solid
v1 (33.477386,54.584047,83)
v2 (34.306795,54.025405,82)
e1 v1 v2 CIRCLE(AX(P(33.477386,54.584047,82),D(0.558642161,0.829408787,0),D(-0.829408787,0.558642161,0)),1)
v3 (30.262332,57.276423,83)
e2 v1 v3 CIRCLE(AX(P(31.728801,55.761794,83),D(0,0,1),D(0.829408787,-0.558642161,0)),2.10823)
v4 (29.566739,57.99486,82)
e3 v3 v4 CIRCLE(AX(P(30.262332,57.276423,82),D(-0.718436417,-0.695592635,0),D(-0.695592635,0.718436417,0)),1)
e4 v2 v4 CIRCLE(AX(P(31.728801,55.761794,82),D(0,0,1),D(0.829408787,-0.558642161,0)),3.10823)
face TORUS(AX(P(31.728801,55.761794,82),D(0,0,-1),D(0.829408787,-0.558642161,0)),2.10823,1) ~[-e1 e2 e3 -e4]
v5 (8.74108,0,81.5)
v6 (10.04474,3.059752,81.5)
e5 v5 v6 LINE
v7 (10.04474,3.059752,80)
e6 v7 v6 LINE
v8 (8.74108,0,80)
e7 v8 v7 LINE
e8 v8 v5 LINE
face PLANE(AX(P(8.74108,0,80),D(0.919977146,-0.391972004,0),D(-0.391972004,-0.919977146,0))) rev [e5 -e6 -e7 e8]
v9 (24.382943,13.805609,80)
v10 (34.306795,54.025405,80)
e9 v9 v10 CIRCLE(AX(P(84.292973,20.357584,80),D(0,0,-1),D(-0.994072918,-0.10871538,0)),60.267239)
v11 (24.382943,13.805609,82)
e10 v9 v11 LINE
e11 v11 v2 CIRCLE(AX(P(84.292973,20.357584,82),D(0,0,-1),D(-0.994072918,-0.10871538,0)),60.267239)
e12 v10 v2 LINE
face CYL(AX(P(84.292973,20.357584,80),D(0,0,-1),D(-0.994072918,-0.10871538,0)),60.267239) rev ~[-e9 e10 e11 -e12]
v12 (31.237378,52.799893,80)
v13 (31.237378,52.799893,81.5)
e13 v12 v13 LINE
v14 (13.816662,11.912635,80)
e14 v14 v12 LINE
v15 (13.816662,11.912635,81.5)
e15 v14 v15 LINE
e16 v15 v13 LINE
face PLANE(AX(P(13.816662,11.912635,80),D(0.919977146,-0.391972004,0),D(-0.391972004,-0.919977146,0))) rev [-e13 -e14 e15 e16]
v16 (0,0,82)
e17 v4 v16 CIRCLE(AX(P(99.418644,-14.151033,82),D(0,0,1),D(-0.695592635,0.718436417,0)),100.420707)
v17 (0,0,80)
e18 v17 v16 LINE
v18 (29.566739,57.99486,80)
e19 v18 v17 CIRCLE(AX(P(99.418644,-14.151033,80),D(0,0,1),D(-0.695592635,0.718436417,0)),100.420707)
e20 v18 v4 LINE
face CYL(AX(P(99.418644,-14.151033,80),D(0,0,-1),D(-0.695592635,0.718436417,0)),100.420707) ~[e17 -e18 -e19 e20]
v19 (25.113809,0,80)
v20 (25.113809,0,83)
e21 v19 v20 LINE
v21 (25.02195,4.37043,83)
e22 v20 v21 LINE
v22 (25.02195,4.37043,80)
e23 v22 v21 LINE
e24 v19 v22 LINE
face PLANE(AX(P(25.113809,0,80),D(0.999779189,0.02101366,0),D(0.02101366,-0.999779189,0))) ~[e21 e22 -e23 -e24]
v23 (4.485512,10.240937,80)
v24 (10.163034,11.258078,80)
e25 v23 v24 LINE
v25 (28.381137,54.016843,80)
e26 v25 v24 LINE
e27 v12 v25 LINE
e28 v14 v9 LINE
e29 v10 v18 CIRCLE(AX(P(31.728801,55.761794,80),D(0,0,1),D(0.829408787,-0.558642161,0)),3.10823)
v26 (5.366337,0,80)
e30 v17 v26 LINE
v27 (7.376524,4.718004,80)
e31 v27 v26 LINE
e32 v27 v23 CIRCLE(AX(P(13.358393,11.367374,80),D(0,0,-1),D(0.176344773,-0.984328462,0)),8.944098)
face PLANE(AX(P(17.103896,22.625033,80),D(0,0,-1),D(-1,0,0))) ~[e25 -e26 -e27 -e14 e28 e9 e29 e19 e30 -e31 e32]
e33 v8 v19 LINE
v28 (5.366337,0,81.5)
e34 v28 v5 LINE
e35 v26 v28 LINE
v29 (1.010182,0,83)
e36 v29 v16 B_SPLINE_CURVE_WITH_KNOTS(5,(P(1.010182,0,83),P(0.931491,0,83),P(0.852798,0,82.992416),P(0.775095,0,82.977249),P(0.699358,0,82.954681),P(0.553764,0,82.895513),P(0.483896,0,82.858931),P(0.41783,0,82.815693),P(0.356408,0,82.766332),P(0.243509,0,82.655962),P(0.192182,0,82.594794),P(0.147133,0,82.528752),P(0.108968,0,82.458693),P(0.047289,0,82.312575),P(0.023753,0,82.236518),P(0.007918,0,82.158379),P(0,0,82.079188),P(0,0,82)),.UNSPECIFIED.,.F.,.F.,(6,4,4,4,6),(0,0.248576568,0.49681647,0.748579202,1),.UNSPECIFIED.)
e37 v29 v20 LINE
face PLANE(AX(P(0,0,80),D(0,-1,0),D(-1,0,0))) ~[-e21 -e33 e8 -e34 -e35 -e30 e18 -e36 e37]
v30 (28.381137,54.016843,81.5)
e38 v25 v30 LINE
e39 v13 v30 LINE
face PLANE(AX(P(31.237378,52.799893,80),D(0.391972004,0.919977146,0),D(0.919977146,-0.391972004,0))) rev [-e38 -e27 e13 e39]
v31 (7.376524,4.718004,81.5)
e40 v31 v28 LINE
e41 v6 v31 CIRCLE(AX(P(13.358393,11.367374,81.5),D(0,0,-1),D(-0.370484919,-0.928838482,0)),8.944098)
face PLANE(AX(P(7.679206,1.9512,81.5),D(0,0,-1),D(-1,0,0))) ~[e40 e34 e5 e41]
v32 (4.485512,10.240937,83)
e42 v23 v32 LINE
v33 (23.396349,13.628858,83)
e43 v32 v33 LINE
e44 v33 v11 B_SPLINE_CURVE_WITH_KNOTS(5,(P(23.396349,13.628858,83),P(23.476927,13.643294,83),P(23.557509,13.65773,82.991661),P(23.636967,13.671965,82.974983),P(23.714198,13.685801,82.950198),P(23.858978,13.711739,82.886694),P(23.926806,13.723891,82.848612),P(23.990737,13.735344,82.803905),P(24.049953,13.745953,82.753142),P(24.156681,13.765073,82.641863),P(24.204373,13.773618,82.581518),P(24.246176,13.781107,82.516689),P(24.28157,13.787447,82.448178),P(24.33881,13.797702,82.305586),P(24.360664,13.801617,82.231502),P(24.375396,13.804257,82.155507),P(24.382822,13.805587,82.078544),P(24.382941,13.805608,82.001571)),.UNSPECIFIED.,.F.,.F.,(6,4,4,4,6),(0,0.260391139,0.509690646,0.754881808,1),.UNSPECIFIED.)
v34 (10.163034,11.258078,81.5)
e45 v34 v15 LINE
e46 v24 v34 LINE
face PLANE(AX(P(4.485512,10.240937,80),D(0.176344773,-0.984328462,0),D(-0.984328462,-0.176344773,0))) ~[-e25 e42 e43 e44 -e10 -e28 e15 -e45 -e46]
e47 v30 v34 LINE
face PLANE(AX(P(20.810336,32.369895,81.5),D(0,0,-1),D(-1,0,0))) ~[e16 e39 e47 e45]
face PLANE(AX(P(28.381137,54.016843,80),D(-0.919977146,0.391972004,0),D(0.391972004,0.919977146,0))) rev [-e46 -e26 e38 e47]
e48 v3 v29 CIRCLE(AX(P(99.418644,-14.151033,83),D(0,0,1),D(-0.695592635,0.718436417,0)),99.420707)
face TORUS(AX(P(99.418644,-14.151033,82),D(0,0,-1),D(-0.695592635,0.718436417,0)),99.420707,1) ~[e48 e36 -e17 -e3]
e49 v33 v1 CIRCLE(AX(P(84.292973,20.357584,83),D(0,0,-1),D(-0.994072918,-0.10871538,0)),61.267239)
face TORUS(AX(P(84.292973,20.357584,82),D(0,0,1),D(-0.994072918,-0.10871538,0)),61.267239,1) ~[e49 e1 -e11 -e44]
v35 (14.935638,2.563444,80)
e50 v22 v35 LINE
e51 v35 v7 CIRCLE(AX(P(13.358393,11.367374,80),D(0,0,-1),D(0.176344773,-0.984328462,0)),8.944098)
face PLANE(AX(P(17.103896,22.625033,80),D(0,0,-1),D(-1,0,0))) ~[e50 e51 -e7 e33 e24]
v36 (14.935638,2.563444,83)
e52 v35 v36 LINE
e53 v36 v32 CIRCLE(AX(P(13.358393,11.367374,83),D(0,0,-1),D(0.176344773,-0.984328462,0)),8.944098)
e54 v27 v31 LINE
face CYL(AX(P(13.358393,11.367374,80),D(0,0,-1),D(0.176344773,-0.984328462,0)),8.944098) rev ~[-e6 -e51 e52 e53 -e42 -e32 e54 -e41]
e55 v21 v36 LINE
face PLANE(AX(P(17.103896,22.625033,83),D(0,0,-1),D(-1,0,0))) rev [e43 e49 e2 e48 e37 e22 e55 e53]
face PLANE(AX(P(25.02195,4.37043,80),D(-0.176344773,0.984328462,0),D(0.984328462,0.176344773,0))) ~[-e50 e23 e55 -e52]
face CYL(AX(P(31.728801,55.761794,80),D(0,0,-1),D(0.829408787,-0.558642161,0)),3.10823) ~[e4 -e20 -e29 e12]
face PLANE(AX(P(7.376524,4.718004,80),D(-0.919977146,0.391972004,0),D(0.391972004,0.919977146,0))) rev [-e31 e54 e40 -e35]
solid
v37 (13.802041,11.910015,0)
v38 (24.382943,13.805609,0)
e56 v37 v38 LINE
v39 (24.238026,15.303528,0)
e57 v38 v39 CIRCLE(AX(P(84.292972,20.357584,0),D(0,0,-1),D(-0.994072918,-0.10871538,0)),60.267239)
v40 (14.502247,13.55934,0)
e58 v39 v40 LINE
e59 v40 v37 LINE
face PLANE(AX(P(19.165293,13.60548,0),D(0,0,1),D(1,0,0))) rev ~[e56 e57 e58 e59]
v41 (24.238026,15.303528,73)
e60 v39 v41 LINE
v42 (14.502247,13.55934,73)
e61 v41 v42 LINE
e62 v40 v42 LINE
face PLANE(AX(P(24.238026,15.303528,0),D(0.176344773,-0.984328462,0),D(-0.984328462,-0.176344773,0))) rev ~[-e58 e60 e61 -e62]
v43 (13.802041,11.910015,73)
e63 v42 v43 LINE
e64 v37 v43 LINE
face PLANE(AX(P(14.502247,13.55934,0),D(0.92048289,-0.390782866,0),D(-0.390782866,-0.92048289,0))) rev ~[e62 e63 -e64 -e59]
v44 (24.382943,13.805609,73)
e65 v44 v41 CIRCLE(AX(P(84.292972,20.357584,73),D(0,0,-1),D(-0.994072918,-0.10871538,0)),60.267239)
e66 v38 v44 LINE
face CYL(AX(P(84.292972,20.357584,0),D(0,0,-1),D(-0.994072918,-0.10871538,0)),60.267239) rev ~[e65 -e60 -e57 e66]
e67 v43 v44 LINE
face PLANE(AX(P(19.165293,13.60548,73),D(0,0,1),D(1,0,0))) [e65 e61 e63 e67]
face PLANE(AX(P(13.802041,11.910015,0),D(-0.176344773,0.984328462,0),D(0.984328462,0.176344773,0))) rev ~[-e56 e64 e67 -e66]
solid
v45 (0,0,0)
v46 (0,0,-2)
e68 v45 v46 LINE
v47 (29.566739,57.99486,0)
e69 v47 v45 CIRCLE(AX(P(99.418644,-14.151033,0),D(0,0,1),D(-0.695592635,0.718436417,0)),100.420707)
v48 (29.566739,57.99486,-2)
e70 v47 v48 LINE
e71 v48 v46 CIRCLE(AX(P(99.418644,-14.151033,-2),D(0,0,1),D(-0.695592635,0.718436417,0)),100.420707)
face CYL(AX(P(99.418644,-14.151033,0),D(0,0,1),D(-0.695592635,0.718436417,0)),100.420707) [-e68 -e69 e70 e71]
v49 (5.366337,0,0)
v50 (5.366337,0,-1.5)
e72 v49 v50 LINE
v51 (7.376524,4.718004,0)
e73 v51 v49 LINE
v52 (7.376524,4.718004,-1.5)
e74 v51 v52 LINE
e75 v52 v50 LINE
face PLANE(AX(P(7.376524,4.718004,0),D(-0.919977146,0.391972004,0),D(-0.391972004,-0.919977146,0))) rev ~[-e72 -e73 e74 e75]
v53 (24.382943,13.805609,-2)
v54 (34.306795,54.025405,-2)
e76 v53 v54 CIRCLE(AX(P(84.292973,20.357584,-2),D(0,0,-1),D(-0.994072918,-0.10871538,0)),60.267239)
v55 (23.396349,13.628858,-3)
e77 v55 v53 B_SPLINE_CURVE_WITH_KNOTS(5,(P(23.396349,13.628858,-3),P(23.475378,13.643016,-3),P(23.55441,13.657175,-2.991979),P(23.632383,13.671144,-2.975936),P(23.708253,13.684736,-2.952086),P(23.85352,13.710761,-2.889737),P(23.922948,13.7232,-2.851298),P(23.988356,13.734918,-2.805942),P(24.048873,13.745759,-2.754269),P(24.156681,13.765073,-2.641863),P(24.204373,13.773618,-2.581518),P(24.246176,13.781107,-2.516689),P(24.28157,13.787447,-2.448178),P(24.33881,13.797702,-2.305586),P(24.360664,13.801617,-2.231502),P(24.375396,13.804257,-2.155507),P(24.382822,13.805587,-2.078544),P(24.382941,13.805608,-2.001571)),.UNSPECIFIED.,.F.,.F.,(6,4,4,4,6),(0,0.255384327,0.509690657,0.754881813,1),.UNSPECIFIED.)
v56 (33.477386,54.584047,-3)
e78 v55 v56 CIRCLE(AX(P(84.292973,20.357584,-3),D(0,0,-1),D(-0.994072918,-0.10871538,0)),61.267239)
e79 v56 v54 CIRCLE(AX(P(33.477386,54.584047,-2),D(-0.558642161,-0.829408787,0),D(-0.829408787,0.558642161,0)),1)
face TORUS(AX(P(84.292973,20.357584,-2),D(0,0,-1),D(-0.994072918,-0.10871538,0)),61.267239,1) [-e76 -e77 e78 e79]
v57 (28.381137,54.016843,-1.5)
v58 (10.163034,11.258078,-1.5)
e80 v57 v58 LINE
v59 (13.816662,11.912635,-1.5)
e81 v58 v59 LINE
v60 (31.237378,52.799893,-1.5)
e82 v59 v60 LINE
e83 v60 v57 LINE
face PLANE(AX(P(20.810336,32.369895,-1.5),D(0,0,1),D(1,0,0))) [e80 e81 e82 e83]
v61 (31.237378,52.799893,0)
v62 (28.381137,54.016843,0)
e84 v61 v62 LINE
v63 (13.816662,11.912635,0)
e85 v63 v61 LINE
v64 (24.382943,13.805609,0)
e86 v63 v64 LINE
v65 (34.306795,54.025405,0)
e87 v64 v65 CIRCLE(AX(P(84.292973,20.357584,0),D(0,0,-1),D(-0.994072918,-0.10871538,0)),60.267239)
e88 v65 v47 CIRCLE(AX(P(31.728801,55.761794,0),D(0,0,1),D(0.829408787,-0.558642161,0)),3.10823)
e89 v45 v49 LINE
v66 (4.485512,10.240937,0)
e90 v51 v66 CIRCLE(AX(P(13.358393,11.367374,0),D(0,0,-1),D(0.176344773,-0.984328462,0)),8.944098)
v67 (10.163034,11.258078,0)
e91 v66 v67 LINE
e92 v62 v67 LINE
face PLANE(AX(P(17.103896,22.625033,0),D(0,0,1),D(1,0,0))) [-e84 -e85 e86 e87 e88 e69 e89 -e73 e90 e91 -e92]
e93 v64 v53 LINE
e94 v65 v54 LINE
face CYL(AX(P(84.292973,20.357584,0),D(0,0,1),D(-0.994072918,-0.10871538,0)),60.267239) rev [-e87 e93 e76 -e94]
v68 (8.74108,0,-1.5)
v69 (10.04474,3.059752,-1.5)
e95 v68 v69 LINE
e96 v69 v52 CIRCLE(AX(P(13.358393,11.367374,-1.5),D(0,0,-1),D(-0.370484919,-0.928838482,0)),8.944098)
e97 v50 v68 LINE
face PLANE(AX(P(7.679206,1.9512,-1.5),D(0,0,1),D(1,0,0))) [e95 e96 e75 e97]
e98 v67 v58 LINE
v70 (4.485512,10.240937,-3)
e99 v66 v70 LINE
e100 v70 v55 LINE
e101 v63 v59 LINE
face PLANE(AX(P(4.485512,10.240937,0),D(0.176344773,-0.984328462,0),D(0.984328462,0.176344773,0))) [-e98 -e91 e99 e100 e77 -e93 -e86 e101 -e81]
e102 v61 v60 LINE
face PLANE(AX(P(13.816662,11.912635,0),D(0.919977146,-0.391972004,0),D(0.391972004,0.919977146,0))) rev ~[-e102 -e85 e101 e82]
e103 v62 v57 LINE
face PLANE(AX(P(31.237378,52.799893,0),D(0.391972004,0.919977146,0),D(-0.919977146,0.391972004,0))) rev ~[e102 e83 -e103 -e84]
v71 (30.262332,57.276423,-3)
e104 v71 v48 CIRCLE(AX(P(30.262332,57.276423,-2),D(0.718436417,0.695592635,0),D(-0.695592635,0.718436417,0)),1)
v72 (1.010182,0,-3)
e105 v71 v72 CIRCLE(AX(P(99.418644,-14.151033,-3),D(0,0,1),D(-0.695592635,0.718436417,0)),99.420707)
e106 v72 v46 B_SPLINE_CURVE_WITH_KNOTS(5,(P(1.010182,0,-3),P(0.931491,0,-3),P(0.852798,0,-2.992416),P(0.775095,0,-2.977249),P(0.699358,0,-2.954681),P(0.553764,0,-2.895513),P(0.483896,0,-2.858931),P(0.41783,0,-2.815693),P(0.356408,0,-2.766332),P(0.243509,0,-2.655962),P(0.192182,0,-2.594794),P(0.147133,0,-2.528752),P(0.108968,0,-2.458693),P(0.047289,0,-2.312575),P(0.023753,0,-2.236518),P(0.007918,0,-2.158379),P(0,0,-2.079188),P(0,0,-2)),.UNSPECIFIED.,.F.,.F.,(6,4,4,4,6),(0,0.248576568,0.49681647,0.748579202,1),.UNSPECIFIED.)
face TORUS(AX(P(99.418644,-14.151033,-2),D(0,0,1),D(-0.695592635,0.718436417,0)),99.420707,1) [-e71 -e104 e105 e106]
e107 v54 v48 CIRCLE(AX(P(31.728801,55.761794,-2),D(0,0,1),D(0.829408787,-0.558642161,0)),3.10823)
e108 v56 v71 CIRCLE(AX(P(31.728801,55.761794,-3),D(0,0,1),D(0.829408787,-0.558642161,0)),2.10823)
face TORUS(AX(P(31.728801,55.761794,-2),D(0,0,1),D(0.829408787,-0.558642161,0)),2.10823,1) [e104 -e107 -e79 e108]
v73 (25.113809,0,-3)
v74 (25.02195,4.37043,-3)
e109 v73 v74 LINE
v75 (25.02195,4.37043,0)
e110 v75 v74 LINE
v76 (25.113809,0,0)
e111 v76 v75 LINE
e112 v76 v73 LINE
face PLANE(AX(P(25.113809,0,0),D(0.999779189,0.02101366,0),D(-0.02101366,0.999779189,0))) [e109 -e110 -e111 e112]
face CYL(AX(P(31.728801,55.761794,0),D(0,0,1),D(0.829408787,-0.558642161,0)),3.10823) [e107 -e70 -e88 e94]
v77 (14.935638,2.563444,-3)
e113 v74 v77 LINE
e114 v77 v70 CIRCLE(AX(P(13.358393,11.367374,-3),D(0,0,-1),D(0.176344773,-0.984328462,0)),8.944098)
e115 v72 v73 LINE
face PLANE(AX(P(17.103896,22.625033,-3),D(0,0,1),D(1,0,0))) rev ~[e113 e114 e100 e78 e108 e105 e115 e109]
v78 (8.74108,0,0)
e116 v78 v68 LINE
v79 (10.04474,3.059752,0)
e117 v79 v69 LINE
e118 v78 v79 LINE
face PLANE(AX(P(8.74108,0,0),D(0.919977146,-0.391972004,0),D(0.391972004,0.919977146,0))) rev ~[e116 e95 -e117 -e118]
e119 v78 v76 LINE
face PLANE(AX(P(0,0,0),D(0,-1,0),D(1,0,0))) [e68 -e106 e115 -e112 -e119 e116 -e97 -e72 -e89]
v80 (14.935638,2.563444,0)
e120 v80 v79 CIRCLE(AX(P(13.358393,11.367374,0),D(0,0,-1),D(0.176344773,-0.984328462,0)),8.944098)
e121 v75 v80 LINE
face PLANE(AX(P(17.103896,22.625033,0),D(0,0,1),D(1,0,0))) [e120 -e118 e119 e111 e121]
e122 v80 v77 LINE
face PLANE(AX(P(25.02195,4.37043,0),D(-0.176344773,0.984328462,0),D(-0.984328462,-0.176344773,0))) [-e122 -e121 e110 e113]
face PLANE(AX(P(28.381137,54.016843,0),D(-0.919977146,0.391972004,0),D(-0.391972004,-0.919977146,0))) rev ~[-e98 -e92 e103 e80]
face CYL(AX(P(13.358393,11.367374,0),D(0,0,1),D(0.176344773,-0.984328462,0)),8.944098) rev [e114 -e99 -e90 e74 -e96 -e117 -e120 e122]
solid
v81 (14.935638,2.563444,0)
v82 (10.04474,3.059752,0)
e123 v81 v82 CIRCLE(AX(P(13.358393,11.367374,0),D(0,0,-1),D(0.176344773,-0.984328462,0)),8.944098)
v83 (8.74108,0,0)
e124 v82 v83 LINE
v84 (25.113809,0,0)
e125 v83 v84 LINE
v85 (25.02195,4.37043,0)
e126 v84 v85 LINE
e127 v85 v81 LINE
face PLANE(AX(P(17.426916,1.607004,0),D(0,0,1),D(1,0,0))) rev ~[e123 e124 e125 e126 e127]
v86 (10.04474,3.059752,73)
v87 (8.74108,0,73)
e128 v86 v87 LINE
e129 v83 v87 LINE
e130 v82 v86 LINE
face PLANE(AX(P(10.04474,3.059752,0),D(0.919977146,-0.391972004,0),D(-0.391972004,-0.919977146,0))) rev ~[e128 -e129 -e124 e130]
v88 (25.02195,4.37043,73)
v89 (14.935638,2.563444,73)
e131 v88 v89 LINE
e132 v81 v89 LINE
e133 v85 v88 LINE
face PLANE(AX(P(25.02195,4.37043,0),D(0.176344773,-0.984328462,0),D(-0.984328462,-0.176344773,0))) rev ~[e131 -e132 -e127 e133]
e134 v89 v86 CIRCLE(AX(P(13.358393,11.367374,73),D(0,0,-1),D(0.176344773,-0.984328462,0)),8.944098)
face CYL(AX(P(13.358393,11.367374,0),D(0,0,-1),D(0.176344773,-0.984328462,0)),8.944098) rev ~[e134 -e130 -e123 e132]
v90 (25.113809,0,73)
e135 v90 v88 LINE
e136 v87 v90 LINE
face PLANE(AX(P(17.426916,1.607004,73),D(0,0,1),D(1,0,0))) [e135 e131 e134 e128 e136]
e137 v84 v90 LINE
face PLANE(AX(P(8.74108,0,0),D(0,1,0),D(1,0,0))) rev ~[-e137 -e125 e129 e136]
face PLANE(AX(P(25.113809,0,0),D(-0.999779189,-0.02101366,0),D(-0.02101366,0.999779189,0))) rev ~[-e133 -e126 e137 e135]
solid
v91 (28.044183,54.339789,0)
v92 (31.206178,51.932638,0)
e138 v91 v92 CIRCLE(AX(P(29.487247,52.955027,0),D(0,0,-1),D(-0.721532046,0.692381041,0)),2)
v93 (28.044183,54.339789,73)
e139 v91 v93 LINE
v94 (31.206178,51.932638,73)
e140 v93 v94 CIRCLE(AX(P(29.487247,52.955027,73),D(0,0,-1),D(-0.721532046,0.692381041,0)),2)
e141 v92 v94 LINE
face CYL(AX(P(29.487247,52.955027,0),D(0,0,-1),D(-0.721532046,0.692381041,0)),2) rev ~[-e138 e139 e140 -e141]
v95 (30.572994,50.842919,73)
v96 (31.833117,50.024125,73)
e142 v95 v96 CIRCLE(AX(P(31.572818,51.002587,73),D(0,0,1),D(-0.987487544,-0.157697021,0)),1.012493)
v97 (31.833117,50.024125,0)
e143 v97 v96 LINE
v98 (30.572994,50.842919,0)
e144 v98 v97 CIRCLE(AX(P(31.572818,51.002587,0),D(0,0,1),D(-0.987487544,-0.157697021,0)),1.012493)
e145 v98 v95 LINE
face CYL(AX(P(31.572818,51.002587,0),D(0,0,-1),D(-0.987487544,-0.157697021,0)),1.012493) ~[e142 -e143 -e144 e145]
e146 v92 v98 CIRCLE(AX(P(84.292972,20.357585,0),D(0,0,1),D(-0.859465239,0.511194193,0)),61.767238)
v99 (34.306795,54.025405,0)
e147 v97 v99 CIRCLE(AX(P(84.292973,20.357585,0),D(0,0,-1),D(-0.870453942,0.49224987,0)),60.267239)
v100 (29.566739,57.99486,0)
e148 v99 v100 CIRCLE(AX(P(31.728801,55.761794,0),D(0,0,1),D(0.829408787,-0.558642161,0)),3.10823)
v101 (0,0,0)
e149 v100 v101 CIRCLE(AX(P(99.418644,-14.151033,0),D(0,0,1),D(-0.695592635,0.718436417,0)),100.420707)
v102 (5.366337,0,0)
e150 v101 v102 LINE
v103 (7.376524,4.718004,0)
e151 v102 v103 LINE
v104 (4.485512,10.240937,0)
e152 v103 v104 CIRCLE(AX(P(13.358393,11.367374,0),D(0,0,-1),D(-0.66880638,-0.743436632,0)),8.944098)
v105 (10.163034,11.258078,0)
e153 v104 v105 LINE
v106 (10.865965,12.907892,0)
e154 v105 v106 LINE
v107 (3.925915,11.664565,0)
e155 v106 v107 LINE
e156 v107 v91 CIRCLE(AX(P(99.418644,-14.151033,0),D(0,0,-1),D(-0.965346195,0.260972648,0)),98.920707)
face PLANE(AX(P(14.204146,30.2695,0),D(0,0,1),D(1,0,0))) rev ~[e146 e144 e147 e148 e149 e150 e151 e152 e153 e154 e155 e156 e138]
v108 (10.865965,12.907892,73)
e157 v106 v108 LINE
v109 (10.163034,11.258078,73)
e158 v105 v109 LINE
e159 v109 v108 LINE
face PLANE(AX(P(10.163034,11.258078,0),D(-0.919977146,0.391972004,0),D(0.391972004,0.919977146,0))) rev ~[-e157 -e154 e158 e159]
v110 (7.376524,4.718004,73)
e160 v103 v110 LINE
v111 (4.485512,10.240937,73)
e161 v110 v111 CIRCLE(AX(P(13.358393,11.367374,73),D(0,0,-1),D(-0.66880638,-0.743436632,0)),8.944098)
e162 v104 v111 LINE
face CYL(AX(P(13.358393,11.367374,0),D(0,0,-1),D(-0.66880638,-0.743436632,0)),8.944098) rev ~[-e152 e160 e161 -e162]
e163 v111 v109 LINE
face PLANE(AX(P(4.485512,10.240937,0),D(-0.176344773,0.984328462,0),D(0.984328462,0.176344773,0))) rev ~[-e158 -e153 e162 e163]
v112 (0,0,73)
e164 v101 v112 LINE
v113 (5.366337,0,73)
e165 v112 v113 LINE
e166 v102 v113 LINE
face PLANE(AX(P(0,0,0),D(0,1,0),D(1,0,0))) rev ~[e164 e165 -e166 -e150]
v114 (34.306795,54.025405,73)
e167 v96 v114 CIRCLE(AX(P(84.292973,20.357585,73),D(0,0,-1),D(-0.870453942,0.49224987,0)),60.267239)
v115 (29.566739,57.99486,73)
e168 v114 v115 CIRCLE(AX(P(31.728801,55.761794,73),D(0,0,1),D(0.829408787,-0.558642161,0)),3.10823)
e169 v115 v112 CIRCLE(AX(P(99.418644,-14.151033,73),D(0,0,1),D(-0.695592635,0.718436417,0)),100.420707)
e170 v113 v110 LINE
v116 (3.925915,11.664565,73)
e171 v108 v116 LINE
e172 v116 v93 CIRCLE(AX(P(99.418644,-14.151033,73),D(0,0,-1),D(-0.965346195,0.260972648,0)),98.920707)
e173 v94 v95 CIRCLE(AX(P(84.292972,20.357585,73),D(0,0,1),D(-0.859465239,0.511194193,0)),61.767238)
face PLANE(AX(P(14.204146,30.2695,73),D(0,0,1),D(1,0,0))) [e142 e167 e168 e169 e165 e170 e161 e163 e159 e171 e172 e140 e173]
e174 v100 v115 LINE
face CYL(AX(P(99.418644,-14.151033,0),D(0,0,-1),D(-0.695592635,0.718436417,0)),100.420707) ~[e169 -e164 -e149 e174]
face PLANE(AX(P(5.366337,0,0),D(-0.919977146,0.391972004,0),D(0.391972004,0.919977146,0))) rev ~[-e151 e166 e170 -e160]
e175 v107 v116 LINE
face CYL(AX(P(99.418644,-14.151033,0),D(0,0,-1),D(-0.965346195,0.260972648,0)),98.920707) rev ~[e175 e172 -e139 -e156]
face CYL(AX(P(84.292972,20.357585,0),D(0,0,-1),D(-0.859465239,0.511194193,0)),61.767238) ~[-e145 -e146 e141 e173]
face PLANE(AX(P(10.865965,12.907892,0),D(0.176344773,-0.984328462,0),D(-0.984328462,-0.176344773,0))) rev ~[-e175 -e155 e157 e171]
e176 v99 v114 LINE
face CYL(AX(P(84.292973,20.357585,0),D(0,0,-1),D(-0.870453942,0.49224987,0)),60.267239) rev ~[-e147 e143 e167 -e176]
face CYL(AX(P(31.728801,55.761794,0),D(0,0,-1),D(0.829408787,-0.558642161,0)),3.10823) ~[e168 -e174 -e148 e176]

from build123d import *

# Parameters (mm, degrees)
F1_DEPTH = 3
F3_DEPTH = 1.5
F6_DEPTH = 73
F8_R     = 1
F9_R     = 1


with BuildPart() as f1:
    # F0 (on Top) → F1 (new body)
    with BuildSketch(Plane.XY):
        with BuildLine():
            Line((0, 0), (25.1138086896, 0))
            Line((25.1138086896, 0), (25.0219496666, 4.3704304844))
            Line((25.0219496666, 4.3704304844), (14.93563812, 2.56344391))
            ThreePointArc((14.93563812, 2.56344391), (8.0628712758, 4.159438542), (4.4855117871, 10.2409368811))
            Line((4.4855117871, 10.2409368811), (24.3829425915, 13.8056086803))
            ThreePointArc((24.3829425915, 13.8056086803), (25.7805627183, 34.7949655604), (34.3067951238, 54.0254051089))
            ThreePointArc((34.3067951238, 54.0254051089), (33.7243946279, 58.1447969682), (29.5667392269, 57.9948596671))
            ThreePointArc((29.5667392269, 57.9948596671), (9.9536753745, 31.4596878841), (0, 0))
        make_face()
    extrude(amount=-F1_DEPTH)

    # F2 (on face) → F3 (cut)
    with BuildSketch(Plane.XY):
        with BuildLine():
            Line((5.3663372301, 0), (8.7410803077, 0))
            Line((8.7410803077, 0), (10.0447398808, 3.0597517212))
            ThreePointArc((10.0447398808, 3.0597517212), (8.63725595, 3.7708123332), (7.3765235564, 4.7180039933))
            Line((7.3765235564, 4.7180039933), (5.3663372301, 0))
        make_face()
        Polygon((31.237378109, 52.7998929604), (28.3811374817, 54.01684315), (10.1630341787, 11.2580784486), (13.8166620739, 11.9126345293), align=None)
    extrude(amount=-F3_DEPTH, mode=Mode.SUBTRACT)


with BuildPart() as f6:
    # F5 (on face) → F6 (new body)
    with BuildSketch(Plane.XY):
        with BuildLine():
            ThreePointArc((31.8331169384, 50.0241250258), (33.0309009779, 52.0489097488), (34.3067951238, 54.0254051089))
            ThreePointArc((34.3067951238, 54.0254051089), (33.7243946279, 58.1447969682), (29.5667392269, 57.9948596671))
            ThreePointArc((29.5667392269, 57.9948596671), (9.9536753745, 31.4596878841), (0, 0))
            Line((0, 0), (5.3663372301, 0))
            Line((5.3663372301, 0), (7.3765235564, 4.7180039933))
            ThreePointArc((7.3765235564, 4.7180039933), (5.4342778468, 7.2194490483), (4.4855117871, 10.2409368811))
            Line((4.4855117871, 10.2409368811), (10.1630341787, 11.2580784486))
            Line((10.1630341787, 11.2580784486), (10.8659653877, 12.9078918055))
            Line((10.8659653877, 12.9078918055), (3.9259152051, 11.6645653974))
            ThreePointArc((3.9259152051, 11.6645653974), (13.2997819097, 34.5197789471), (28.044183302, 54.3397888104))
            ThreePointArc((28.044183302, 54.3397888104), (30.6987006163, 54.5463724131), (31.2061778728, 51.9326383426))
            ThreePointArc((31.2061778728, 51.9326383426), (30.8868062462, 51.3893939045), (30.5729935197, 50.8429194512))
            ThreePointArc((30.5729935197, 50.8429194512), (31.0211563475, 50.1535801269), (31.8331169384, 50.0241250258))
        make_face()
    extrude(amount=F6_DEPTH)


with BuildPart() as f6b:
    # F5 (on face) → F6, piece 2 (new body)
    with BuildSketch(Plane.XY):
        with BuildLine():
            Line((8.7410803077, 0), (25.1138086896, 0))
            Line((25.1138086896, 0), (25.0219496666, 4.3704304844))
            Line((25.0219496666, 4.3704304844), (14.93563812, 2.56344391))
            ThreePointArc((14.93563812, 2.56344391), (12.4554209462, 2.4689737195), (10.0447398808, 3.0597517212))
            Line((10.0447398808, 3.0597517212), (8.7410803077, 0))
        make_face()
    extrude(amount=F6_DEPTH)


with BuildPart() as f6c:
    # F5 (on face) → F6, piece 3 (new body)
    with BuildSketch(Plane.XY):
        with BuildLine():
            Line((13.8020408929, 11.9100151102), (24.3829425915, 13.8056086803))
            ThreePointArc((24.3829425915, 13.8056086803), (24.3058086676, 14.5541160496), (24.2380261197, 15.3035281194))
            Line((24.2380261197, 15.3035281194), (14.5022473149, 13.5593403149))
            Line((14.5022473149, 13.5593403149), (13.8020408929, 11.9100151102))
        make_face()
    extrude(amount=F6_DEPTH)


with BuildPart() as f7_1:
    # F7: instance of F1
    add(f1.part.mirror(Plane.XY.offset(40)))

    # F9
    f9_edges = [f7_1.edges().sort_by_distance(p)[0] for p in [
        (9.953675, 31.459688, 83),
        (25.780563, 34.794966, 83),
        (33.724395, 58.144797, 83),
    ]]
    fillet(f9_edges, radius=F9_R)


with BuildPart() as f1_1:
    add(f1.part)

    # F8
    f8_edges = [f1_1.edges().sort_by_distance(p)[0] for p in [
        (9.953675, 31.459688, -3),
    ]]
    fillet(f8_edges, radius=F8_R)


solid = Compound([f6.part, f6b.part, f6c.part, f7_1.part, f1_1.part])
